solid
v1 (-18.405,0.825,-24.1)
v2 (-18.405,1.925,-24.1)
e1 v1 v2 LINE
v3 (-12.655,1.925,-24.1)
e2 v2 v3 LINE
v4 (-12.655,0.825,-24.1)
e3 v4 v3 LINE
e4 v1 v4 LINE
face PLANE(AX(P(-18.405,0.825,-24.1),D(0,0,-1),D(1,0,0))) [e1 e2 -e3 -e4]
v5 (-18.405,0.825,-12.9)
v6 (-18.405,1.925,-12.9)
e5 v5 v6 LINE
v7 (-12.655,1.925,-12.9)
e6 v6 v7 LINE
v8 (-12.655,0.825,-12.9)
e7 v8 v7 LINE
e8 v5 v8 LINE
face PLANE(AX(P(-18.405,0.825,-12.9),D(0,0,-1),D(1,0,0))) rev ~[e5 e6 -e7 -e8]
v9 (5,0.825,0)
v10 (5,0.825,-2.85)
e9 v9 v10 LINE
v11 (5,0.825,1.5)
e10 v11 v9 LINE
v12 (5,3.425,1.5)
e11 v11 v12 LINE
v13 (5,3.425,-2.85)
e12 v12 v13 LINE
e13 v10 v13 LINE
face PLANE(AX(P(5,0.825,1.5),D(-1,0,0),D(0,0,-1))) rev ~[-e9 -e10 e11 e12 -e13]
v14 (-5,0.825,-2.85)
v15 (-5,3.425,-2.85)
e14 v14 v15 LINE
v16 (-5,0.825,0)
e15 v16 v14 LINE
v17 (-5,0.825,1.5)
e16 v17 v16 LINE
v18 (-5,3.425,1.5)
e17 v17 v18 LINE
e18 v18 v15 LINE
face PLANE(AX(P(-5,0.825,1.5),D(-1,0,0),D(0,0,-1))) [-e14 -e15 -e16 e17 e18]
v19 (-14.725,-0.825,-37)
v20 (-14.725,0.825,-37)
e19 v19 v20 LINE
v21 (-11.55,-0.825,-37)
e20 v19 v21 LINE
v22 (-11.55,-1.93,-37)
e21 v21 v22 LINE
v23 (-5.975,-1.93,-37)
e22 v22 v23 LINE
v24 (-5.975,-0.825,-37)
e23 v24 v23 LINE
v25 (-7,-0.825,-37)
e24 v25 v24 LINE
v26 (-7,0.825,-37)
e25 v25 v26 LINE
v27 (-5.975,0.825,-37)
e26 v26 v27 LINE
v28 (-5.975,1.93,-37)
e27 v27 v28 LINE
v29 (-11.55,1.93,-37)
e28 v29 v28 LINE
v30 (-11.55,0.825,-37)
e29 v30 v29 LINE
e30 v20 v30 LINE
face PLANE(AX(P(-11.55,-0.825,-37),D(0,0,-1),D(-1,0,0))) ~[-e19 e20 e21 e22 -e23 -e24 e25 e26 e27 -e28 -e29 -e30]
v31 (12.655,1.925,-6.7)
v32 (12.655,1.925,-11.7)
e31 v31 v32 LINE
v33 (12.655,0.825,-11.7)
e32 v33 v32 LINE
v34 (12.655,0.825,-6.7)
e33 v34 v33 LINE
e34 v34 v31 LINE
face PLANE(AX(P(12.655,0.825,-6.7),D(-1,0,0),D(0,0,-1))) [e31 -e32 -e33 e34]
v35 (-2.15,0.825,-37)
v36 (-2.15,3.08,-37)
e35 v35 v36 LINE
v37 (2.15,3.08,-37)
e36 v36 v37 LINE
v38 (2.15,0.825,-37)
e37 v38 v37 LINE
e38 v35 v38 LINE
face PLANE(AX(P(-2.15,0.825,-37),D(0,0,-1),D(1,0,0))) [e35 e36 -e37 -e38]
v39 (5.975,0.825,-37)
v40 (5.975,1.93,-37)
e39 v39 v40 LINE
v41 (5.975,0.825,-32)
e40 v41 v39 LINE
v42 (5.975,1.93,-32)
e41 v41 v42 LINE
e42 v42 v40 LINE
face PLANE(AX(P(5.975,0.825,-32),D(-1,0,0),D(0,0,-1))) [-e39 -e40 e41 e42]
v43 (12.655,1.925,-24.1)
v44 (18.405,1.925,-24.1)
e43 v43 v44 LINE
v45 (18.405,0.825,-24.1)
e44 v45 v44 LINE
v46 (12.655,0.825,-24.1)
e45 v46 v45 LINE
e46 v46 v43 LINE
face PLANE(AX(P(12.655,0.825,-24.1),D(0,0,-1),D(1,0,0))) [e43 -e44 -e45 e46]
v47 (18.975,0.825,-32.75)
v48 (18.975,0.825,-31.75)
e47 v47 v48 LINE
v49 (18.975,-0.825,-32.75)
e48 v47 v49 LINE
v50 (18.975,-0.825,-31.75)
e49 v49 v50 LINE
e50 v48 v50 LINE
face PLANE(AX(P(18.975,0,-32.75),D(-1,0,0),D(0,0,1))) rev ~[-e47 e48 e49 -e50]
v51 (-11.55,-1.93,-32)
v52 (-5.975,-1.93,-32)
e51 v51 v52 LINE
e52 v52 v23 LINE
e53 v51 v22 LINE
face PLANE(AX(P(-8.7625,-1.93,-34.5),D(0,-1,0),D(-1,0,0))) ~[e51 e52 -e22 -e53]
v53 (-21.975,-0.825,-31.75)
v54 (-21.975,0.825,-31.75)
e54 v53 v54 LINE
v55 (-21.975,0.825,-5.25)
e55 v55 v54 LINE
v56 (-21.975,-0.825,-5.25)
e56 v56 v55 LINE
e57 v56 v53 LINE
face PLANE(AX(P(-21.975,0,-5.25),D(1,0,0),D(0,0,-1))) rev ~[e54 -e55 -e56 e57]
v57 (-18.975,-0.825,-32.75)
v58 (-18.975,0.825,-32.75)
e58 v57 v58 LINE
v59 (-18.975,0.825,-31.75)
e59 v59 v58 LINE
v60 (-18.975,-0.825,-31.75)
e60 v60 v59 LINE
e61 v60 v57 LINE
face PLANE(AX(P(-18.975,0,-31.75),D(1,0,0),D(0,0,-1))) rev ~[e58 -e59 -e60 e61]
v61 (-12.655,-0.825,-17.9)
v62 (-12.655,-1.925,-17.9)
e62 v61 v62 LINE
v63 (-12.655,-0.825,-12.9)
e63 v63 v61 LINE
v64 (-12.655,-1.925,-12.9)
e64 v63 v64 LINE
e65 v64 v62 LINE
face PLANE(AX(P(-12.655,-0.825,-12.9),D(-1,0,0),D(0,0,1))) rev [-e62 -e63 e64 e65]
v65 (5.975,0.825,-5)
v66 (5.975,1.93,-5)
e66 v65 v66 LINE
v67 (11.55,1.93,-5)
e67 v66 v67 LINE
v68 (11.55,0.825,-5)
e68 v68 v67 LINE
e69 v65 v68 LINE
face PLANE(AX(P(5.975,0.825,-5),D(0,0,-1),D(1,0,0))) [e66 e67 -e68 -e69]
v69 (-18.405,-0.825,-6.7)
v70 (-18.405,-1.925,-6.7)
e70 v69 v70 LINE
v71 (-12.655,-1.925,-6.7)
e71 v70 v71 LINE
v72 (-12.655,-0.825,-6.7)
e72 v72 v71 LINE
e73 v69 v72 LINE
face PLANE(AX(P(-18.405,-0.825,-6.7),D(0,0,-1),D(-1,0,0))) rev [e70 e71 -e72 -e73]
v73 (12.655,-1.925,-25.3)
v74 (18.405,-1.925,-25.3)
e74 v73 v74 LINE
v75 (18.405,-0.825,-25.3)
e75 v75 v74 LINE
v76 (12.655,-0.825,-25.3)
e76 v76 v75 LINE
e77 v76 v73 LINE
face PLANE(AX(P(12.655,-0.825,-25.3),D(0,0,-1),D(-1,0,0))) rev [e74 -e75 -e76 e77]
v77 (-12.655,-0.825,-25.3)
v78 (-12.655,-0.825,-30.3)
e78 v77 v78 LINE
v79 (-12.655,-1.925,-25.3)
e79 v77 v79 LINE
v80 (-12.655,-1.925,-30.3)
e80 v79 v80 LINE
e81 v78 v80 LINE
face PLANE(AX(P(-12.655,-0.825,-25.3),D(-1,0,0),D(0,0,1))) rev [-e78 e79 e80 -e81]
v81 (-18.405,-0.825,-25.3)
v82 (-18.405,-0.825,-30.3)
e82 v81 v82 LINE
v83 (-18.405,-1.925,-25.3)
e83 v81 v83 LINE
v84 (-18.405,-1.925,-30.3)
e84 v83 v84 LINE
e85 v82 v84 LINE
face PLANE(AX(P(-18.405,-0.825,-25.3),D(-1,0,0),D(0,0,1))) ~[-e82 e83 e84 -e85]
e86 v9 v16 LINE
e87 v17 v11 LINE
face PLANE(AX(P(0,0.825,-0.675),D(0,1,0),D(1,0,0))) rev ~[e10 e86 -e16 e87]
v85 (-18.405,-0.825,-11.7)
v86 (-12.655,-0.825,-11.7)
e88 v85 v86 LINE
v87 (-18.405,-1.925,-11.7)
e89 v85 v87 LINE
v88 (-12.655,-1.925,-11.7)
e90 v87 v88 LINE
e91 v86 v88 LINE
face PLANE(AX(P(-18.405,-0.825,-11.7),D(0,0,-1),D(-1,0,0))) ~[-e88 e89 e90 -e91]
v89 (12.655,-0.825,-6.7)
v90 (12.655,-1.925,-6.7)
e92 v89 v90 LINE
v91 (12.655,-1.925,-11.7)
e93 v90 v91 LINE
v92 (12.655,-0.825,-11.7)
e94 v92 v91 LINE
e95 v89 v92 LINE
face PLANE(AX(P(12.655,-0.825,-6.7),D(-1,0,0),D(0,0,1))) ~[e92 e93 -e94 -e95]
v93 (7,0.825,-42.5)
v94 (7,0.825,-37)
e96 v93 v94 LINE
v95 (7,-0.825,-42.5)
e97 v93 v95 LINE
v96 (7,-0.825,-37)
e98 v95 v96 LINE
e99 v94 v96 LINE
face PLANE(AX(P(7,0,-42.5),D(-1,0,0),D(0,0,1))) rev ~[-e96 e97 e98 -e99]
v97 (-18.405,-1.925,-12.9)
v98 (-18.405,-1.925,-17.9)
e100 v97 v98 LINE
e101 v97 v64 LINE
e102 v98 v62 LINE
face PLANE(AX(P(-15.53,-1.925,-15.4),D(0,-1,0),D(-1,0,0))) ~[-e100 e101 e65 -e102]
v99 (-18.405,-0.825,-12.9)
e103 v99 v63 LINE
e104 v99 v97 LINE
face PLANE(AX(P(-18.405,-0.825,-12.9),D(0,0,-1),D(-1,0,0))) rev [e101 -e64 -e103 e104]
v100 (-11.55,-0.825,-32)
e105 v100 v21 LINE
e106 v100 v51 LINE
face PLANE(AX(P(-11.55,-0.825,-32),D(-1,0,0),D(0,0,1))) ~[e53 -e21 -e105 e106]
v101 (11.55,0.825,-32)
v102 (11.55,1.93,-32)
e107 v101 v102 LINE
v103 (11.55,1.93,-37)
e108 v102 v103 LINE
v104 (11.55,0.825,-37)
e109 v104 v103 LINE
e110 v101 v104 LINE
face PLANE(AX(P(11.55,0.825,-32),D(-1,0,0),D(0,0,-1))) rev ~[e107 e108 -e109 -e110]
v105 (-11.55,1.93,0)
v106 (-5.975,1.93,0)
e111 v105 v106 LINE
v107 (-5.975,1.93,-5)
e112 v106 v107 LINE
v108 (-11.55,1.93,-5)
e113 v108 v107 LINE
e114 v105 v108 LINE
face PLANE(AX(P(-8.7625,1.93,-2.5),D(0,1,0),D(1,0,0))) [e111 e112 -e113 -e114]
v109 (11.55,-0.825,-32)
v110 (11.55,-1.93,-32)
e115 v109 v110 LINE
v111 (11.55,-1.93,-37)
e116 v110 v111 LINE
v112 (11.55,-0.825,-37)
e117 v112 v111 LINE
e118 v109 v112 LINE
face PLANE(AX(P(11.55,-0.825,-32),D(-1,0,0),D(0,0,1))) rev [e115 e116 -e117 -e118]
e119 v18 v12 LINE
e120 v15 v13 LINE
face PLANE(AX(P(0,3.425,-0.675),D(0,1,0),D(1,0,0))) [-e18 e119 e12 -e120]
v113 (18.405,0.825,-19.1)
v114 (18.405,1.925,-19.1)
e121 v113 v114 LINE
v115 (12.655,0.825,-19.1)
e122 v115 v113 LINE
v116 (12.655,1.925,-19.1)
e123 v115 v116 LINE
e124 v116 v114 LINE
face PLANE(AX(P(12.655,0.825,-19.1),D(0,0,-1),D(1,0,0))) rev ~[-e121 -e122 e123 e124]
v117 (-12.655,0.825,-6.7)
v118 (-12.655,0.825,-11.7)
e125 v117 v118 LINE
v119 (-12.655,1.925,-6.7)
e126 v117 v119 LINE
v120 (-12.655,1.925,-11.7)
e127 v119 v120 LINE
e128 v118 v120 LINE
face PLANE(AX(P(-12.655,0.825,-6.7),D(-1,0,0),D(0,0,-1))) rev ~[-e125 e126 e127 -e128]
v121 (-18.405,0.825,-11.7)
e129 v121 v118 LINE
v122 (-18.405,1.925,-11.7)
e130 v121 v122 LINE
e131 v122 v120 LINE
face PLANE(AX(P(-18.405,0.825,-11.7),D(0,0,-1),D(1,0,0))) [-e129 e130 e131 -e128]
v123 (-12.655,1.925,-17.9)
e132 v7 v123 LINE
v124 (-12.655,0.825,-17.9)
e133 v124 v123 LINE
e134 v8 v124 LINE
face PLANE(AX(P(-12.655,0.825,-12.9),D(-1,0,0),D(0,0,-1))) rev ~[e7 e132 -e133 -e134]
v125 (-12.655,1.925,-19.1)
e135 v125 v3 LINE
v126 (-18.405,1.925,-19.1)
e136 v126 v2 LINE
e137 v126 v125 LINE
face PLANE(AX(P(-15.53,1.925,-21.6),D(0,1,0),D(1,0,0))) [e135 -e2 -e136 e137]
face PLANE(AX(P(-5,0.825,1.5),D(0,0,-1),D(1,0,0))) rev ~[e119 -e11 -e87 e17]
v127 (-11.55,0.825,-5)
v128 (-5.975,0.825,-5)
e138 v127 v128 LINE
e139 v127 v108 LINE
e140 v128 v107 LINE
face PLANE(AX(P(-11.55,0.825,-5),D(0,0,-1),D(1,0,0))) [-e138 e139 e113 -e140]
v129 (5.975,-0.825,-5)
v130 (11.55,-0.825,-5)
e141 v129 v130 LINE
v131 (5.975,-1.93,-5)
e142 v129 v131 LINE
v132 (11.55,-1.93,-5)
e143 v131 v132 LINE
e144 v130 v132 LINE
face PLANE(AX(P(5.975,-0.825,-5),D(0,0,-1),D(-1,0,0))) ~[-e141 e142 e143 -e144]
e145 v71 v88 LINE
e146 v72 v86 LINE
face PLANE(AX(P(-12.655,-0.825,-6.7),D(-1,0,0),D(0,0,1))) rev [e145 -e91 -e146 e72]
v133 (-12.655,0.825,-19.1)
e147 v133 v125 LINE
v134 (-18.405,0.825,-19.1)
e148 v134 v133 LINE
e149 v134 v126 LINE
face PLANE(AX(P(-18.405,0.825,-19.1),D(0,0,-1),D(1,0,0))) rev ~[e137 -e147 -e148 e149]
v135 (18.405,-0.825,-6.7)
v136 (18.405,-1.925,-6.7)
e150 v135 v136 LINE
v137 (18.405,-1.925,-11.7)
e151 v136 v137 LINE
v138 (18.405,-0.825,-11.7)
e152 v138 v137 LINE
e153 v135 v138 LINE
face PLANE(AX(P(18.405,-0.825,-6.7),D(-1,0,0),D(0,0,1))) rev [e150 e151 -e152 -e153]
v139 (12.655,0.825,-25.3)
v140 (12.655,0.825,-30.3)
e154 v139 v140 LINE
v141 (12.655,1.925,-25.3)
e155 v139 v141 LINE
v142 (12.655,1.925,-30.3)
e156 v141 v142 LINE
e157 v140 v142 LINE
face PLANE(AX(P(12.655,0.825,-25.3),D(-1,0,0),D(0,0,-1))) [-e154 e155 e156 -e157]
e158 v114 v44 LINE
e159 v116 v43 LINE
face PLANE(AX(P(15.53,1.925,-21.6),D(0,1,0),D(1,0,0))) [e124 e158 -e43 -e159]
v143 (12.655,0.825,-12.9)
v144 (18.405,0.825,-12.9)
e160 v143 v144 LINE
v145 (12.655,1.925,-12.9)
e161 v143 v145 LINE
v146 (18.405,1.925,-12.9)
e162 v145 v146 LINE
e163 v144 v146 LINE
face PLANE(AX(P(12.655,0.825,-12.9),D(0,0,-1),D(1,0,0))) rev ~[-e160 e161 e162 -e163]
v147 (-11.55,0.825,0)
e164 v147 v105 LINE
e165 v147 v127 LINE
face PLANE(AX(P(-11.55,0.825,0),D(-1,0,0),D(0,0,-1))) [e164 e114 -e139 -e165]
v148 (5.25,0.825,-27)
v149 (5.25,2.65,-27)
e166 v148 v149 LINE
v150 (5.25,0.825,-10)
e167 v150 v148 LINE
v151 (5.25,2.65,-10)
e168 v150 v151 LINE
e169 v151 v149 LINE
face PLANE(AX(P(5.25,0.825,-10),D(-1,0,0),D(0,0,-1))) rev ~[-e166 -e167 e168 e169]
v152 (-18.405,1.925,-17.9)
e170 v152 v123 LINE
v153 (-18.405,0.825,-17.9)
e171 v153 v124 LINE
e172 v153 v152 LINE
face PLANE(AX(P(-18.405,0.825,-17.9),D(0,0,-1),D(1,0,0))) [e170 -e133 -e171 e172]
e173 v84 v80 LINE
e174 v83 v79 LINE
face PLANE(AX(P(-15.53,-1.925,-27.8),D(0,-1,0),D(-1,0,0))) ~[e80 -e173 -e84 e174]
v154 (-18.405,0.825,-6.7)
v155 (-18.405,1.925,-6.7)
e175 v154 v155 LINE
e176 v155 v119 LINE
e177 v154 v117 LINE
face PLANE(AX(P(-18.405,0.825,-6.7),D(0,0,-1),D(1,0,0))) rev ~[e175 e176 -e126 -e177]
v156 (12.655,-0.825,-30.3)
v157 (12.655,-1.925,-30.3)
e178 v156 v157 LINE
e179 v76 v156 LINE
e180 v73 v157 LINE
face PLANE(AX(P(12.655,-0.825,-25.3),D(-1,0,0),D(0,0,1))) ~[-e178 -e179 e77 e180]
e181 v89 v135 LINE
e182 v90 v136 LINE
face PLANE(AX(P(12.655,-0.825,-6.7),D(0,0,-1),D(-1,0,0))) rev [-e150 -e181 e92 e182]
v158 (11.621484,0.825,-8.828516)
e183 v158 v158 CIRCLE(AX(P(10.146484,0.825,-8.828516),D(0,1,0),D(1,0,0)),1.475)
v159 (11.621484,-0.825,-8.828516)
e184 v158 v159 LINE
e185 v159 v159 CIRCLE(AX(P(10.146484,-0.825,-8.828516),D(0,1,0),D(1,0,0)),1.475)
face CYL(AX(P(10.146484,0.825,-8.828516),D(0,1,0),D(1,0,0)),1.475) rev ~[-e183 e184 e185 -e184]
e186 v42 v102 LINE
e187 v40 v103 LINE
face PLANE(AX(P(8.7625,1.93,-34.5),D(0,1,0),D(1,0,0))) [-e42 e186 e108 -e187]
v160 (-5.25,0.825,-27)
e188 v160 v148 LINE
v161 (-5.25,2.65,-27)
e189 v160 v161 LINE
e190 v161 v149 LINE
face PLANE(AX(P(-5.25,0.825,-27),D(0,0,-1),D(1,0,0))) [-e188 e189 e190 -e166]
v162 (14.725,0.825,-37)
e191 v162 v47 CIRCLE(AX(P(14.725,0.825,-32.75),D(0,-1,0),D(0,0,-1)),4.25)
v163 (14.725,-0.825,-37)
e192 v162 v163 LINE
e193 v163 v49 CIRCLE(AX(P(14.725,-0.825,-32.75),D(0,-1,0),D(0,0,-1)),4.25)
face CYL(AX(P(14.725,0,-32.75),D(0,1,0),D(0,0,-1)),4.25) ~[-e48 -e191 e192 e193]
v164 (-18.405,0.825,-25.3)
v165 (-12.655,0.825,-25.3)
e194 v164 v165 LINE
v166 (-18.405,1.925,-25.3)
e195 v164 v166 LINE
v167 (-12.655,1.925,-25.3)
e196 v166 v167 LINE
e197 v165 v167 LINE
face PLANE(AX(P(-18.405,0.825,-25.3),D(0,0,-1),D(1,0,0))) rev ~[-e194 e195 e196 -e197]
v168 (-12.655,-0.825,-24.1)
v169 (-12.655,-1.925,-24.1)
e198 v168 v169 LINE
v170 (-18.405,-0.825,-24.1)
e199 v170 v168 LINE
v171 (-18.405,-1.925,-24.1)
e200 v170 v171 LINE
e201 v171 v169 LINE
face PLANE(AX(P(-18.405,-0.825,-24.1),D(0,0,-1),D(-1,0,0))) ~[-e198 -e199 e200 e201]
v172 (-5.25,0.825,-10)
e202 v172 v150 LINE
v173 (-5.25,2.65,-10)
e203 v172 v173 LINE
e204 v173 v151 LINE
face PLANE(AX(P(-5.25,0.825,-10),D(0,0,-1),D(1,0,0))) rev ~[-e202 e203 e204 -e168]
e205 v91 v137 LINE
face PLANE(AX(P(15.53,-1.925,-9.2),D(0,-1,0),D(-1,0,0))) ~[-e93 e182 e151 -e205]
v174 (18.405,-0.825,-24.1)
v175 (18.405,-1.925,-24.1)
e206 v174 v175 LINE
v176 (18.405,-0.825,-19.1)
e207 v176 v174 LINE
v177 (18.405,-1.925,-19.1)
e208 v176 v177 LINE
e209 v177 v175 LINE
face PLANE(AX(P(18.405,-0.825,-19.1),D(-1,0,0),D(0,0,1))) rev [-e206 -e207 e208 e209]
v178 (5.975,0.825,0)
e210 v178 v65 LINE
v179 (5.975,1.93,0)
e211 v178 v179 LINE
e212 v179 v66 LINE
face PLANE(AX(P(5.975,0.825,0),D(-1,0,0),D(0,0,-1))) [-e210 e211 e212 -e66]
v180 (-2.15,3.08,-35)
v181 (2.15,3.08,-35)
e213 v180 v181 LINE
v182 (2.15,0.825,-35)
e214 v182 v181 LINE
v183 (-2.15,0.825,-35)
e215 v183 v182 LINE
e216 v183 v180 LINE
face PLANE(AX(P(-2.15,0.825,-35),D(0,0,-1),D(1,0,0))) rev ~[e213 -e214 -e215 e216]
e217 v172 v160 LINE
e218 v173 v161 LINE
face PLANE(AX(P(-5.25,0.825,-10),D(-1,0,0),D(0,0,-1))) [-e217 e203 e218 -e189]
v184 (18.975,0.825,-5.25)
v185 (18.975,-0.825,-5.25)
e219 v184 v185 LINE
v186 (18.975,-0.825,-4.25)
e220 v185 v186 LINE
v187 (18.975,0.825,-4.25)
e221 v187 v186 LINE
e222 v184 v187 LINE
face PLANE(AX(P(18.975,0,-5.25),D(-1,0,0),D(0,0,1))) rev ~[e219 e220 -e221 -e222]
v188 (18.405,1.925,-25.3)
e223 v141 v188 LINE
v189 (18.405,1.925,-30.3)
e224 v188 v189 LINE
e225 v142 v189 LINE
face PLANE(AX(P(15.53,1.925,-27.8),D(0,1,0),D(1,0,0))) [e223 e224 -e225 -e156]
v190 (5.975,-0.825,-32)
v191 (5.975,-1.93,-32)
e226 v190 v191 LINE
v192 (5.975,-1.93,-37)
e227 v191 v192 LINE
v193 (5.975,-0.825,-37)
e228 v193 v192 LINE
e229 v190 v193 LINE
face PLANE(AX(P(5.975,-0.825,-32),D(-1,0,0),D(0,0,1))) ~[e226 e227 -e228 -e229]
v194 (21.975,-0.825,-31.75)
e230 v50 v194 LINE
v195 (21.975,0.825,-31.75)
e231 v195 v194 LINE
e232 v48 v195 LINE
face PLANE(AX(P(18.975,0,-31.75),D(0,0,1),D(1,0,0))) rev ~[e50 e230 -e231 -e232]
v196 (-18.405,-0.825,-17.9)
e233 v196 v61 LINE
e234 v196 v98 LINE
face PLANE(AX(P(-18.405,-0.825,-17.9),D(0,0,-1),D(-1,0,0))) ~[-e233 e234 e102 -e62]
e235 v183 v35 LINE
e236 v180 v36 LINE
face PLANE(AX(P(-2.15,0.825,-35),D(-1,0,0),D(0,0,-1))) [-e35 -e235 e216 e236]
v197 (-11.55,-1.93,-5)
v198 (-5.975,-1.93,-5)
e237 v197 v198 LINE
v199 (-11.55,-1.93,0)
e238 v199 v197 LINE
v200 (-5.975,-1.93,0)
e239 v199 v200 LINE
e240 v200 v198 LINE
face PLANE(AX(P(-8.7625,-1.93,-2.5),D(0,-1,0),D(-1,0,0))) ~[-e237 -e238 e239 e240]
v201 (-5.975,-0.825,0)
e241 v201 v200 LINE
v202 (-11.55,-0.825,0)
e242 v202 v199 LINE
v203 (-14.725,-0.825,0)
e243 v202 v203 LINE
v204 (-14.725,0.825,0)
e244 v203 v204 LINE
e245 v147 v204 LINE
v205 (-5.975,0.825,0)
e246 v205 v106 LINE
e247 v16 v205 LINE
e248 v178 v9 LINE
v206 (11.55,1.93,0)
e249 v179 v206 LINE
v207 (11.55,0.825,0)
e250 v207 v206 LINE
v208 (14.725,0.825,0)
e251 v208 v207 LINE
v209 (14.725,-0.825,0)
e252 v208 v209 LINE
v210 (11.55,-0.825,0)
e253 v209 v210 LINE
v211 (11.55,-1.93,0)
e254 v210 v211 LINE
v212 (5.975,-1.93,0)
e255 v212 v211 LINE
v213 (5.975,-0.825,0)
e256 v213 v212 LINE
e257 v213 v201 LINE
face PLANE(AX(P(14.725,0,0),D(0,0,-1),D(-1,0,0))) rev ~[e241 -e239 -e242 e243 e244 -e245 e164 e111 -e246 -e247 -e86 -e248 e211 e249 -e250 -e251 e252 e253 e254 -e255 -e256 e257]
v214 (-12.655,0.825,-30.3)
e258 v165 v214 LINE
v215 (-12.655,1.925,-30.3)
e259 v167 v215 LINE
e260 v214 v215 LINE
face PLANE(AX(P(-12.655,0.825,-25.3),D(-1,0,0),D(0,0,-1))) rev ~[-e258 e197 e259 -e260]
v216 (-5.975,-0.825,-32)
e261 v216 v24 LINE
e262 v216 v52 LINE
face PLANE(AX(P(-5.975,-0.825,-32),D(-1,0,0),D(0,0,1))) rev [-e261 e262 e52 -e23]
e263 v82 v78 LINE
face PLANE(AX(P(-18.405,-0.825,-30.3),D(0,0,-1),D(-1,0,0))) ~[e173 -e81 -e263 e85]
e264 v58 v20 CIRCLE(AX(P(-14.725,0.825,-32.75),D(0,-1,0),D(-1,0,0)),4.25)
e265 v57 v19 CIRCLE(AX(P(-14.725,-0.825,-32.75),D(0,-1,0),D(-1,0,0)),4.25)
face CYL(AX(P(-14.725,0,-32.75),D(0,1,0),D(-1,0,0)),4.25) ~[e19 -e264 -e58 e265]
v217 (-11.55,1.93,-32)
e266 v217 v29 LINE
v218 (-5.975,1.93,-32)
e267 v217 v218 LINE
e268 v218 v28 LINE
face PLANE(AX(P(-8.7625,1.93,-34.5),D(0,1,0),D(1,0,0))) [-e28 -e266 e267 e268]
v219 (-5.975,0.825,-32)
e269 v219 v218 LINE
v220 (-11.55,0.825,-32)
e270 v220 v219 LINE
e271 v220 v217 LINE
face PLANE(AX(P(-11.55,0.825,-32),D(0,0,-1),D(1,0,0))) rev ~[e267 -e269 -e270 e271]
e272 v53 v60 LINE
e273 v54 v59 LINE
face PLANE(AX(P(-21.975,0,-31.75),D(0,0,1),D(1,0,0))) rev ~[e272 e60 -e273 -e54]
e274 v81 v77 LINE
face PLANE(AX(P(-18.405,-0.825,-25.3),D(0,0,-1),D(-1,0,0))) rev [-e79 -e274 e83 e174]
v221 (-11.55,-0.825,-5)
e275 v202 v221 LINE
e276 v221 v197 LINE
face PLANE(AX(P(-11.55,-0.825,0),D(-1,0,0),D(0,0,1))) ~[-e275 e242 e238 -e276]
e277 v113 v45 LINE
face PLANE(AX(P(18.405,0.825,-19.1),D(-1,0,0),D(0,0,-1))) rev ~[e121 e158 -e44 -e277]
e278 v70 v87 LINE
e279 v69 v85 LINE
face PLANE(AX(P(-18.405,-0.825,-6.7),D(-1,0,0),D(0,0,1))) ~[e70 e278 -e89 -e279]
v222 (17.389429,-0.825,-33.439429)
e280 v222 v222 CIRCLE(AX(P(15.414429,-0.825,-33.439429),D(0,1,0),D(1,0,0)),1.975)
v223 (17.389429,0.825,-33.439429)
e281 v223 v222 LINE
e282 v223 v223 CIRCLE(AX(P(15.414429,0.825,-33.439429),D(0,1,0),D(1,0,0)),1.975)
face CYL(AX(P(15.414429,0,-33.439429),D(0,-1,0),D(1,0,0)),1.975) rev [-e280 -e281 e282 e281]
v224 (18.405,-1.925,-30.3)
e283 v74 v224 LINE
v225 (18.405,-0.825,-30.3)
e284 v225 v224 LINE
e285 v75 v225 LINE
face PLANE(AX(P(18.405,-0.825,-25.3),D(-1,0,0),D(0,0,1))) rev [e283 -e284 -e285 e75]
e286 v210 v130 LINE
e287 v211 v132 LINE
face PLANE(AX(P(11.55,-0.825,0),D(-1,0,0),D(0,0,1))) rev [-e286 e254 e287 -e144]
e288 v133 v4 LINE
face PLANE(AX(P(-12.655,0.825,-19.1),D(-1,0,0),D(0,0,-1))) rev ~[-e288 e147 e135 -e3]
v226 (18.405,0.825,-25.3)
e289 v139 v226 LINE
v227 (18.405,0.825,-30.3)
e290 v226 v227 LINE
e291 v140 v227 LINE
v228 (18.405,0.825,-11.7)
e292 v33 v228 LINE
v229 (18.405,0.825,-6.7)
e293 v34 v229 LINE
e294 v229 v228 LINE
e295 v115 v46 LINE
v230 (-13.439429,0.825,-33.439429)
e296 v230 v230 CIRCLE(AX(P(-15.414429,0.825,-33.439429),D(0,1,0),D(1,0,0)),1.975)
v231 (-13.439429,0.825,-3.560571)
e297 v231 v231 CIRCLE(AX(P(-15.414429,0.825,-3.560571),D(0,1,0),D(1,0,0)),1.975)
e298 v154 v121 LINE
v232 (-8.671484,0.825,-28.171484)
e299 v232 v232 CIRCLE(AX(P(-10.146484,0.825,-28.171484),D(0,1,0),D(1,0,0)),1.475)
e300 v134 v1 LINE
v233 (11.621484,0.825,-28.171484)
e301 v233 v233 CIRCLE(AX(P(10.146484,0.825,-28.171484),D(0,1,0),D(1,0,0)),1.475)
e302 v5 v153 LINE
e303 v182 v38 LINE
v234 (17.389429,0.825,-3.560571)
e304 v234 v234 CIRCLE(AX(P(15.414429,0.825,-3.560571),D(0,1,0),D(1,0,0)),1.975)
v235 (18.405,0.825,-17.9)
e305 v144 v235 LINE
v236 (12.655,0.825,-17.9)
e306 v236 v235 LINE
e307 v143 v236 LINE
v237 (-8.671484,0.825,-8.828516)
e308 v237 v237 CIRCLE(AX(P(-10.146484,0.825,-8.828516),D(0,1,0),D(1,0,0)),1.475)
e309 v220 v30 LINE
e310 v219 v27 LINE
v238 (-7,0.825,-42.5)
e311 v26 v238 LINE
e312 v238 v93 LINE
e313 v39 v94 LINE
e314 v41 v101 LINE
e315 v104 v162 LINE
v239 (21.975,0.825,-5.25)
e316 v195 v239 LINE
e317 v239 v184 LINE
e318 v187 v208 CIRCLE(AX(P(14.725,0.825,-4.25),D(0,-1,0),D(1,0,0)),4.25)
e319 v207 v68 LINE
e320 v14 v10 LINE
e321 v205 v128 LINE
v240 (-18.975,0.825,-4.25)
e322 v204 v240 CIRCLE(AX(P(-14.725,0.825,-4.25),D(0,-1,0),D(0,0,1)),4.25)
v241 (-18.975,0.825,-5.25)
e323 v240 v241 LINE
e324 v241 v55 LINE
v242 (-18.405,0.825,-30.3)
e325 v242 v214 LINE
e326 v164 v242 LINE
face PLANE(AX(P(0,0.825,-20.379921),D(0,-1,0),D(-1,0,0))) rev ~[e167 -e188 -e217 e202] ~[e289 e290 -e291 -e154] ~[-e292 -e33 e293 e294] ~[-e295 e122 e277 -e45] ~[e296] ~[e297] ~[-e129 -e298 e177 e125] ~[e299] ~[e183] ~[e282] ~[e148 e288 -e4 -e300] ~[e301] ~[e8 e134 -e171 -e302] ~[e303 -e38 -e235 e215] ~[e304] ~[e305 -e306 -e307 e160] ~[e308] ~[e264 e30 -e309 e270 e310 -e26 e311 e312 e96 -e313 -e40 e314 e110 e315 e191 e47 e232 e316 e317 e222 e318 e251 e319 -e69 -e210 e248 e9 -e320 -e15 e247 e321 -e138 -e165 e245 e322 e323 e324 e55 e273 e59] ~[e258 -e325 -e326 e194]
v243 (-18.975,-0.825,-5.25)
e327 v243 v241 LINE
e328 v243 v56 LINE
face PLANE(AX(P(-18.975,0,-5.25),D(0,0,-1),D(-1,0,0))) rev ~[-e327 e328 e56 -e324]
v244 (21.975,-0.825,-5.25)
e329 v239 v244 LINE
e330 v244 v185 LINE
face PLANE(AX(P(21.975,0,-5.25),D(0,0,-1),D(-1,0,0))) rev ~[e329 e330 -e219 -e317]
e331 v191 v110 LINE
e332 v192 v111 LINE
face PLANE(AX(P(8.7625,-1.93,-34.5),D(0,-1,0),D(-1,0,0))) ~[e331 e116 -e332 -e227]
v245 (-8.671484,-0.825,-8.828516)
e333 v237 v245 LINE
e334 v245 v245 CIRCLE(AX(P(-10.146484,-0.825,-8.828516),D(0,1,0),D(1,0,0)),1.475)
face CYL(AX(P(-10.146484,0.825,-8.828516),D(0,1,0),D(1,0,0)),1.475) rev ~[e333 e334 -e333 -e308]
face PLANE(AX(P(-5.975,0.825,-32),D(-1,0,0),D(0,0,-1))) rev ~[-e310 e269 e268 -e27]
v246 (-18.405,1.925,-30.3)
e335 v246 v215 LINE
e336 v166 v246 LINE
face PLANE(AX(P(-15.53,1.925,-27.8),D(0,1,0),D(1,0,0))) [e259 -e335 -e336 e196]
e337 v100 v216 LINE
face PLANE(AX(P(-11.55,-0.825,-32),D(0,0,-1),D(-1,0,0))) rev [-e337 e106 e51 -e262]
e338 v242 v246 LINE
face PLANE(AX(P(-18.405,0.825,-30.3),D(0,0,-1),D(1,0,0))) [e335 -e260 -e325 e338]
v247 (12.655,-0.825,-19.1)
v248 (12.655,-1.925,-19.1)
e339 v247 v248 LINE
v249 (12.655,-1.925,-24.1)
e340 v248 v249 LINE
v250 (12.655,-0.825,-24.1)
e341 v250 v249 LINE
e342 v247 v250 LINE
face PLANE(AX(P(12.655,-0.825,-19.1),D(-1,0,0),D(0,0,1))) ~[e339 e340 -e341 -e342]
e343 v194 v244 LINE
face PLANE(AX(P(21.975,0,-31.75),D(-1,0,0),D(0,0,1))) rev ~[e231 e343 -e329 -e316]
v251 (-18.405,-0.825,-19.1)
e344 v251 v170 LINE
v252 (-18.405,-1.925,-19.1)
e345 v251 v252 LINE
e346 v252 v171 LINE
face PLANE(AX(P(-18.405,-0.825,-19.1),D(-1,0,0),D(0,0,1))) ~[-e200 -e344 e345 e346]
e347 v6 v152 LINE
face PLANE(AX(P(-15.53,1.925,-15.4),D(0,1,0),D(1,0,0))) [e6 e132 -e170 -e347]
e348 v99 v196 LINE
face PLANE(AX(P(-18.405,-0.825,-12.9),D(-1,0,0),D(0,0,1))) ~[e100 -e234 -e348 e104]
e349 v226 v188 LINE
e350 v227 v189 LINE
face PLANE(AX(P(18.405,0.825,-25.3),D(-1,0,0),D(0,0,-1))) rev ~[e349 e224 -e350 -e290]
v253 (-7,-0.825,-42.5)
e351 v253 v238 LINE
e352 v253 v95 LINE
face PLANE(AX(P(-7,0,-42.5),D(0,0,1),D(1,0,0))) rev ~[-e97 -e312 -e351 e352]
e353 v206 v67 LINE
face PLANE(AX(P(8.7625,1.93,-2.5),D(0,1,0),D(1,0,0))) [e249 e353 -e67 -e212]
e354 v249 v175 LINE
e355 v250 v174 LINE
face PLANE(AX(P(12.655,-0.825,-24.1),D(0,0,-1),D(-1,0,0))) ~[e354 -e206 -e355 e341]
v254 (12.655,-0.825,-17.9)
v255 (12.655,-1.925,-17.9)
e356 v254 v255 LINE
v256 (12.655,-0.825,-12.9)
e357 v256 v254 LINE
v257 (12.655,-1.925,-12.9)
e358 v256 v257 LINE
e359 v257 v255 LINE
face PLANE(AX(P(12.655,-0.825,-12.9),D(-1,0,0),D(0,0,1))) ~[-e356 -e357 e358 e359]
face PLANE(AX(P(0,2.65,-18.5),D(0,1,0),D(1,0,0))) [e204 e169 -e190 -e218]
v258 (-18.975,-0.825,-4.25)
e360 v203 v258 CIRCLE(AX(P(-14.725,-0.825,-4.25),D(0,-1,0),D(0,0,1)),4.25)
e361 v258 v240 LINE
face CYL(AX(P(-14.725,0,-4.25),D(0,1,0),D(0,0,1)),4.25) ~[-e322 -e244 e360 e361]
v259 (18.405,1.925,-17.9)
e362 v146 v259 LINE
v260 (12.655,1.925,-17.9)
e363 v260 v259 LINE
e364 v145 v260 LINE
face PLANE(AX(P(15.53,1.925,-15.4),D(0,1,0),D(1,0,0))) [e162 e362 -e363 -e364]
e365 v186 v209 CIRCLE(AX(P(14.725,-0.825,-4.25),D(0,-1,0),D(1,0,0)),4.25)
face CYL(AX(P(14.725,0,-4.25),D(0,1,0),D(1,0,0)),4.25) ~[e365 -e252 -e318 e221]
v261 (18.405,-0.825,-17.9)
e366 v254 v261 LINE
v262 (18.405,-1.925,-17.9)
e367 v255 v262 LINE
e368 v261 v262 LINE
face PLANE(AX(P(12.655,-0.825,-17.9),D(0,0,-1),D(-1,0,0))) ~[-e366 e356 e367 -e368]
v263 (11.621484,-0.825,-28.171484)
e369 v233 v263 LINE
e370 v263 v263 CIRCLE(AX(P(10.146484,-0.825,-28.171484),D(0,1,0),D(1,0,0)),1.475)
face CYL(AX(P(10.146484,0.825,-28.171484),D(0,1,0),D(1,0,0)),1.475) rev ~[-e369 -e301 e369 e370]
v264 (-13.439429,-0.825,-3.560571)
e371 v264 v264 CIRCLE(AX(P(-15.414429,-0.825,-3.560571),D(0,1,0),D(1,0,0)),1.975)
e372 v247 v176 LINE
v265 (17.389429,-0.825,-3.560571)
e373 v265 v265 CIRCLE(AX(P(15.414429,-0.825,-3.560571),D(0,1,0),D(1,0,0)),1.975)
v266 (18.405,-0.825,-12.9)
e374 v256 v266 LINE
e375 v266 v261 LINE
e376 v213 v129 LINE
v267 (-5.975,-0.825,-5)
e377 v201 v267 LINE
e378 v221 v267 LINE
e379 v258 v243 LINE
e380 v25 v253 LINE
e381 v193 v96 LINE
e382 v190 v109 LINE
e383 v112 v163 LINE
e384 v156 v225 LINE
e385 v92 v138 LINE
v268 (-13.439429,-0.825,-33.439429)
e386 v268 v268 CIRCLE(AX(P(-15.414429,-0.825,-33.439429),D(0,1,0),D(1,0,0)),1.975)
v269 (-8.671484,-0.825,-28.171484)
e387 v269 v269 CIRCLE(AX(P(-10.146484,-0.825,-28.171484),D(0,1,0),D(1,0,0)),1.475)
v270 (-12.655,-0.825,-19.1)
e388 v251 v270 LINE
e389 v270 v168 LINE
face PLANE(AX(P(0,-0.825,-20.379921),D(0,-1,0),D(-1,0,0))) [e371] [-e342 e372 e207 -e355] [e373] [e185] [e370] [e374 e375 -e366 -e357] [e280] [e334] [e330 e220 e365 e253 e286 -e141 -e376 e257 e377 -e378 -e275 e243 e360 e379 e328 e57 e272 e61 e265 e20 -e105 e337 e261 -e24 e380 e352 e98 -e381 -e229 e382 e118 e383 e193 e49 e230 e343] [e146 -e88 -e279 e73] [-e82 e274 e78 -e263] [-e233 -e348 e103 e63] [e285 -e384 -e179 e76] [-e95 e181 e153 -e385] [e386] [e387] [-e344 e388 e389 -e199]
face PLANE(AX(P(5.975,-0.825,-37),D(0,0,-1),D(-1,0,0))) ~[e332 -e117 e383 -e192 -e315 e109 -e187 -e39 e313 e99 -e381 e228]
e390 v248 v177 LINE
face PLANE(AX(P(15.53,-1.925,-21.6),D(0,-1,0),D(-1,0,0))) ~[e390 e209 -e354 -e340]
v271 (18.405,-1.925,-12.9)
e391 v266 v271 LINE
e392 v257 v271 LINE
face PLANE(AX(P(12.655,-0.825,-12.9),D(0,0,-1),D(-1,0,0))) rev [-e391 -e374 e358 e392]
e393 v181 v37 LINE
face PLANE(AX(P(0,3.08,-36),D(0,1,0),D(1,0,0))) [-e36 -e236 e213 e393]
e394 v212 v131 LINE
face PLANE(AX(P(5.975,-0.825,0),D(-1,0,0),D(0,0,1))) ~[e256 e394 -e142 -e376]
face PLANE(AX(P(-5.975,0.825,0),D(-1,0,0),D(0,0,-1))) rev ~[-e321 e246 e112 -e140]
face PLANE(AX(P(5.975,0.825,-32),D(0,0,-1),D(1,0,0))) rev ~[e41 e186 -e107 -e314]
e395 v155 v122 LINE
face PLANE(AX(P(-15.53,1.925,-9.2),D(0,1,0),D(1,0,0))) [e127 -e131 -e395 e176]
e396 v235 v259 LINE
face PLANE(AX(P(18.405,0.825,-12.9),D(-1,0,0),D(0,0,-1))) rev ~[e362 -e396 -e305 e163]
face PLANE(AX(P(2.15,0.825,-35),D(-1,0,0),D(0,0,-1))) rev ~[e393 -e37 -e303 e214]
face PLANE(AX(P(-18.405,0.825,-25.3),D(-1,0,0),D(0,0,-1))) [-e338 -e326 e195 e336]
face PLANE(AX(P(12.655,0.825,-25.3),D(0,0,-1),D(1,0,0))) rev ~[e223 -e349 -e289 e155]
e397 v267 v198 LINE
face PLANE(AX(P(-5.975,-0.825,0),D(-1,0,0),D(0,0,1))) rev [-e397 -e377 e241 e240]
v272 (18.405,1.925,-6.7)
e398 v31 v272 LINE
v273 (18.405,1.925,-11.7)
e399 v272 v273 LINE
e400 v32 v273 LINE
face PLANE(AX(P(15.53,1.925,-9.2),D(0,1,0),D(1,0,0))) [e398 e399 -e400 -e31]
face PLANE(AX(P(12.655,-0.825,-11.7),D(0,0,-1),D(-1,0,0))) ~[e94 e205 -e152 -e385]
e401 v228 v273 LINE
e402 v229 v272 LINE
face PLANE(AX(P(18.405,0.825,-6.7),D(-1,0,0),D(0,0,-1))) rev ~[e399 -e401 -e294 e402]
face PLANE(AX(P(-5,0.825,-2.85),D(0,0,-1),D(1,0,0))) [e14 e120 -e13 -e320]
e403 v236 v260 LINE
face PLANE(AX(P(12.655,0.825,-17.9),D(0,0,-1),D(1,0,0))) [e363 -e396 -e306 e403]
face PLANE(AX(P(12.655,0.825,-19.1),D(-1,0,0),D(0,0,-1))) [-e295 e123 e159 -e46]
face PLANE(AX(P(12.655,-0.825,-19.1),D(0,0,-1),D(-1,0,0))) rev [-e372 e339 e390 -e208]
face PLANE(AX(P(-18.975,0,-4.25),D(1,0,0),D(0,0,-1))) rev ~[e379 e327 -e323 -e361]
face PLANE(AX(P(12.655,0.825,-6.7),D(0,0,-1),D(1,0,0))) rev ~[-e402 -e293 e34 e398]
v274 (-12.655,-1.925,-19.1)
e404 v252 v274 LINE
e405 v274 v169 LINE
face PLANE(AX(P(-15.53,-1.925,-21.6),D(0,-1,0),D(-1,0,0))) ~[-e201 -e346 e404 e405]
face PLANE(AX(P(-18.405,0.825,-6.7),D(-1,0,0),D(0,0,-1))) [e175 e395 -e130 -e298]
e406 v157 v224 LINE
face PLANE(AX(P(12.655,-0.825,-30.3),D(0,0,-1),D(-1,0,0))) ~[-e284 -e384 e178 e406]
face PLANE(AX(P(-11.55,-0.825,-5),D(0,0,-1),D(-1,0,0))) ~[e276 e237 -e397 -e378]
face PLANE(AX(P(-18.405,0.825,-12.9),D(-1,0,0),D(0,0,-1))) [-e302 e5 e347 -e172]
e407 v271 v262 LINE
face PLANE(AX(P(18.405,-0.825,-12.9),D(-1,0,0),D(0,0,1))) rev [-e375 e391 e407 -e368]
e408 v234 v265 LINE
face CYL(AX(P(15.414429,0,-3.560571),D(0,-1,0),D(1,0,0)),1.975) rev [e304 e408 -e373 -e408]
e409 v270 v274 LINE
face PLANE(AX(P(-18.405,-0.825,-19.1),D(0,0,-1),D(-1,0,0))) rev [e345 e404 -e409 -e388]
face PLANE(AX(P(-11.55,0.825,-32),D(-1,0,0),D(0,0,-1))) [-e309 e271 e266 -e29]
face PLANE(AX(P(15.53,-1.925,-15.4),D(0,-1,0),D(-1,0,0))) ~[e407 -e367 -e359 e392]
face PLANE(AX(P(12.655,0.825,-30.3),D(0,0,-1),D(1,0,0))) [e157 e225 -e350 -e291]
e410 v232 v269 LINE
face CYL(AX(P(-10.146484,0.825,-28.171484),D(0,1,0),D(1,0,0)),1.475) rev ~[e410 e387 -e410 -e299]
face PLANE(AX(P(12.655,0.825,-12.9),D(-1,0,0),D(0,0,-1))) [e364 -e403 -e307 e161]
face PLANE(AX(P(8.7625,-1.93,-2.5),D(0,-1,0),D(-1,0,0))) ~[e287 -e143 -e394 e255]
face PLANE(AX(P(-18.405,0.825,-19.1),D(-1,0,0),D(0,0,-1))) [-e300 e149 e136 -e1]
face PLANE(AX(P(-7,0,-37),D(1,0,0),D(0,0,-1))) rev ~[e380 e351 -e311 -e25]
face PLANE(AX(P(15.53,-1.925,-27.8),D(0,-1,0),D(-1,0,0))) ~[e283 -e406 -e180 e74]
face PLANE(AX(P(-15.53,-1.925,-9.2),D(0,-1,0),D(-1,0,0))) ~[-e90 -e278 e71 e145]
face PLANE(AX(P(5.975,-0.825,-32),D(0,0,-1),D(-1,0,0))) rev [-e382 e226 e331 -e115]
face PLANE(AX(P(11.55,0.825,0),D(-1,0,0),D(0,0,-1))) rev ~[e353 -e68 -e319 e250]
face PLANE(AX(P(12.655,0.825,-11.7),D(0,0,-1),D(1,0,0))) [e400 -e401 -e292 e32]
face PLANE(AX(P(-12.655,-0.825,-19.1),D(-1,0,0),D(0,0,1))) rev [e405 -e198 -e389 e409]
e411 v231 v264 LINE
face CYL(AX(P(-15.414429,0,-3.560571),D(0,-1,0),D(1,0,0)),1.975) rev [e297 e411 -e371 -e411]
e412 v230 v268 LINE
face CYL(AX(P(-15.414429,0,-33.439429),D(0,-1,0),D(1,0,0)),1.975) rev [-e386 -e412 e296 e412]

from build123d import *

# Parameters (mm, degrees)
SKETCH1_R                       = 1.975
PCB_DEPTH                       = 0.825
SKETCH7_R                       = 1.475
INNER_HOLES_DEPTH               = 1
INNER_HOLES_DEPTH_BACK          = 2.65
SKETCH8_W                       = 10
SKETCH8_H                       = 4.35
CONNECTOR_DEPTH                 = 2.6
SKETCH9_W                       = 4.3
SKETCH9_H                       = 2
TOP_COMPONENT_DEPTH             = 2.255
SKETCH10_W                      = 5.75
SKETCH10_H                      = 5
SIDE_COMPONENTS_DEPTH           = 1.1
SKETCH11_W                      = 10.5
SKETCH11_H                      = 17
CENTRAL_COMPONENTS_DEPTH        = 1.825
SKETCH12_W                      = 5.575
SKETCH12_H                      = 5
TOP_AND_BOTTOM_COMPONENTS_DEPTH = 1.105


with BuildPart() as part:
    # Sketch1 → PCB (new body, symmetric)
    with BuildSketch(Plane(origin=(0, 0, 0), x_dir=(1, 0, 0), z_dir=(0, 1, 0))):
        with BuildLine():
            Line((-7, 42.5), (7, 42.5))
            Line((7, 42.5), (7, 37))
            Line((7, 37), (14.725, 37))
            ThreePointArc((14.725, 37), (17.73020382, 35.75520382), (18.975, 32.75))
            Line((18.975, 32.75), (18.975, 31.75))
            Line((18.975, 31.75), (21.975, 31.75))
            Line((21.975, 31.75), (21.975, 5.25))
            Line((21.975, 5.25), (18.975, 5.25))
            Line((18.975, 5.25), (18.975, 4.25))
            ThreePointArc((18.975, 4.25), (17.73020382, 1.24479618), (14.725, 0))
            Line((14.725, 0), (-14.725, 0))
            ThreePointArc((-14.725, 0), (-17.73020382, 1.24479618), (-18.975, 4.25))
            Line((-18.975, 4.25), (-18.975, 5.25))
            Line((-18.975, 5.25), (-21.975, 5.25))
            Line((-21.975, 5.25), (-21.975, 31.75))
            Line((-21.975, 31.75), (-18.975, 31.75))
            Line((-18.975, 31.75), (-18.975, 32.75))
            ThreePointArc((-18.975, 32.75), (-17.73020382, 35.75520382), (-14.725, 37))
            Line((-14.725, 37), (-7, 37))
            Line((-7, 37), (-7, 42.5))
        make_face()
        with Locations((15.414429112, 33.439429112)):
            Circle(SKETCH1_R, mode=Mode.SUBTRACT)
        with Locations((15.414429112, 3.560570888)):
            Circle(SKETCH1_R, mode=Mode.SUBTRACT)
        with Locations((-15.414429112, 3.560570888)):
            Circle(SKETCH1_R, mode=Mode.SUBTRACT)
        with Locations((-15.414429112, 33.439429112)):
            Circle(SKETCH1_R, mode=Mode.SUBTRACT)
    extrude(amount=PCB_DEPTH, both=True)

    # Sketch7 → inner holes (cut, two sides)
    with BuildSketch(Plane(origin=(0, 0.825, 0), x_dir=(1, 0, 0), z_dir=(0, 1, 0))) as inner_holes_sk:
        with Locations((10.146483592, 28.171483592)):
            Circle(SKETCH7_R)
        with Locations((-10.146483592, 28.171483592)):
            Circle(SKETCH7_R)
        with Locations((-10.146483592, 8.828516408)):
            Circle(SKETCH7_R)
        with Locations((10.146483592, 8.828516408)):
            Circle(SKETCH7_R)
    extrude(amount=INNER_HOLES_DEPTH, mode=Mode.SUBTRACT)
    extrude(inner_holes_sk.sketch, amount=-INNER_HOLES_DEPTH_BACK, mode=Mode.SUBTRACT)

    # Sketch8 → Connector (add)
    with BuildSketch(Plane(origin=(0, 0.825, 0), x_dir=(1, 0, 0), z_dir=(0, 1, 0))):
        with Locations((0, 0.675)):
            Rectangle(SKETCH8_W, SKETCH8_H)
    extrude(amount=CONNECTOR_DEPTH)

    # Sketch9 → Top component (add)
    with BuildSketch(Plane(origin=(0, 0.825, 0), x_dir=(1, 0, 0), z_dir=(0, 1, 0))):
        with Locations((0, 36)):
            Rectangle(SKETCH9_W, SKETCH9_H)
    extrude(amount=TOP_COMPONENT_DEPTH)

    # Sketch10 → Side Components (add)
    with BuildSketch(Plane(origin=(0, 0.825, 0), x_dir=(1, 0, 0), z_dir=(0, 1, 0))):
        with Locations((15.53, 15.4)):
            Rectangle(SKETCH10_W, SKETCH10_H)
        with Locations((15.53, 9.2)):
            Rectangle(SKETCH10_W, SKETCH10_H)
        with Locations((15.53, 21.6)):
            Rectangle(SKETCH10_W, SKETCH10_H)
        with Locations((15.53, 27.8)):
            Rectangle(SKETCH10_W, SKETCH10_H)
        with Locations((-15.53, 9.2)):
            Rectangle(SKETCH10_W, SKETCH10_H)
        with Locations((-15.53, 15.4)):
            Rectangle(SKETCH10_W, SKETCH10_H)
        with Locations((-15.53, 21.6)):
            Rectangle(SKETCH10_W, SKETCH10_H)
        with Locations((-15.53, 27.8)):
            Rectangle(SKETCH10_W, SKETCH10_H)
    side_components = extrude(amount=SIDE_COMPONENTS_DEPTH)

    # Sketch11 → Central components (add)
    with BuildSketch(Plane(origin=(0, 0.825, 0), x_dir=(1, 0, 0), z_dir=(0, 1, 0))):
        with Locations((0, 18.5)):
            Rectangle(SKETCH11_W, SKETCH11_H)
    extrude(amount=CENTRAL_COMPONENTS_DEPTH)

    # Sketch12 → Top and bottom components (add)
    with BuildSketch(Plane(origin=(0, 0.825, 0), x_dir=(1, 0, 0), z_dir=(0, 1, 0))):
        with Locations((8.7625, 34.5)):
            Rectangle(SKETCH12_W, SKETCH12_H)
        with Locations((8.7625, 2.5)):
            Rectangle(SKETCH12_W, SKETCH12_H)
        with Locations((-8.7625, 2.5)):
            Rectangle(SKETCH12_W, SKETCH12_H)
        with Locations((-8.7625, 34.5)):
            Rectangle(SKETCH12_W, SKETCH12_H)
    top_and_bottom_components = extrude(amount=TOP_AND_BOTTOM_COMPONENTS_DEPTH)

    # Mirror2: Side Components, Top and bottom components across plane
    add(side_components.mirror(Plane.ZX))
    add(top_and_bottom_components.mirror(Plane.ZX))


solid = part.part
